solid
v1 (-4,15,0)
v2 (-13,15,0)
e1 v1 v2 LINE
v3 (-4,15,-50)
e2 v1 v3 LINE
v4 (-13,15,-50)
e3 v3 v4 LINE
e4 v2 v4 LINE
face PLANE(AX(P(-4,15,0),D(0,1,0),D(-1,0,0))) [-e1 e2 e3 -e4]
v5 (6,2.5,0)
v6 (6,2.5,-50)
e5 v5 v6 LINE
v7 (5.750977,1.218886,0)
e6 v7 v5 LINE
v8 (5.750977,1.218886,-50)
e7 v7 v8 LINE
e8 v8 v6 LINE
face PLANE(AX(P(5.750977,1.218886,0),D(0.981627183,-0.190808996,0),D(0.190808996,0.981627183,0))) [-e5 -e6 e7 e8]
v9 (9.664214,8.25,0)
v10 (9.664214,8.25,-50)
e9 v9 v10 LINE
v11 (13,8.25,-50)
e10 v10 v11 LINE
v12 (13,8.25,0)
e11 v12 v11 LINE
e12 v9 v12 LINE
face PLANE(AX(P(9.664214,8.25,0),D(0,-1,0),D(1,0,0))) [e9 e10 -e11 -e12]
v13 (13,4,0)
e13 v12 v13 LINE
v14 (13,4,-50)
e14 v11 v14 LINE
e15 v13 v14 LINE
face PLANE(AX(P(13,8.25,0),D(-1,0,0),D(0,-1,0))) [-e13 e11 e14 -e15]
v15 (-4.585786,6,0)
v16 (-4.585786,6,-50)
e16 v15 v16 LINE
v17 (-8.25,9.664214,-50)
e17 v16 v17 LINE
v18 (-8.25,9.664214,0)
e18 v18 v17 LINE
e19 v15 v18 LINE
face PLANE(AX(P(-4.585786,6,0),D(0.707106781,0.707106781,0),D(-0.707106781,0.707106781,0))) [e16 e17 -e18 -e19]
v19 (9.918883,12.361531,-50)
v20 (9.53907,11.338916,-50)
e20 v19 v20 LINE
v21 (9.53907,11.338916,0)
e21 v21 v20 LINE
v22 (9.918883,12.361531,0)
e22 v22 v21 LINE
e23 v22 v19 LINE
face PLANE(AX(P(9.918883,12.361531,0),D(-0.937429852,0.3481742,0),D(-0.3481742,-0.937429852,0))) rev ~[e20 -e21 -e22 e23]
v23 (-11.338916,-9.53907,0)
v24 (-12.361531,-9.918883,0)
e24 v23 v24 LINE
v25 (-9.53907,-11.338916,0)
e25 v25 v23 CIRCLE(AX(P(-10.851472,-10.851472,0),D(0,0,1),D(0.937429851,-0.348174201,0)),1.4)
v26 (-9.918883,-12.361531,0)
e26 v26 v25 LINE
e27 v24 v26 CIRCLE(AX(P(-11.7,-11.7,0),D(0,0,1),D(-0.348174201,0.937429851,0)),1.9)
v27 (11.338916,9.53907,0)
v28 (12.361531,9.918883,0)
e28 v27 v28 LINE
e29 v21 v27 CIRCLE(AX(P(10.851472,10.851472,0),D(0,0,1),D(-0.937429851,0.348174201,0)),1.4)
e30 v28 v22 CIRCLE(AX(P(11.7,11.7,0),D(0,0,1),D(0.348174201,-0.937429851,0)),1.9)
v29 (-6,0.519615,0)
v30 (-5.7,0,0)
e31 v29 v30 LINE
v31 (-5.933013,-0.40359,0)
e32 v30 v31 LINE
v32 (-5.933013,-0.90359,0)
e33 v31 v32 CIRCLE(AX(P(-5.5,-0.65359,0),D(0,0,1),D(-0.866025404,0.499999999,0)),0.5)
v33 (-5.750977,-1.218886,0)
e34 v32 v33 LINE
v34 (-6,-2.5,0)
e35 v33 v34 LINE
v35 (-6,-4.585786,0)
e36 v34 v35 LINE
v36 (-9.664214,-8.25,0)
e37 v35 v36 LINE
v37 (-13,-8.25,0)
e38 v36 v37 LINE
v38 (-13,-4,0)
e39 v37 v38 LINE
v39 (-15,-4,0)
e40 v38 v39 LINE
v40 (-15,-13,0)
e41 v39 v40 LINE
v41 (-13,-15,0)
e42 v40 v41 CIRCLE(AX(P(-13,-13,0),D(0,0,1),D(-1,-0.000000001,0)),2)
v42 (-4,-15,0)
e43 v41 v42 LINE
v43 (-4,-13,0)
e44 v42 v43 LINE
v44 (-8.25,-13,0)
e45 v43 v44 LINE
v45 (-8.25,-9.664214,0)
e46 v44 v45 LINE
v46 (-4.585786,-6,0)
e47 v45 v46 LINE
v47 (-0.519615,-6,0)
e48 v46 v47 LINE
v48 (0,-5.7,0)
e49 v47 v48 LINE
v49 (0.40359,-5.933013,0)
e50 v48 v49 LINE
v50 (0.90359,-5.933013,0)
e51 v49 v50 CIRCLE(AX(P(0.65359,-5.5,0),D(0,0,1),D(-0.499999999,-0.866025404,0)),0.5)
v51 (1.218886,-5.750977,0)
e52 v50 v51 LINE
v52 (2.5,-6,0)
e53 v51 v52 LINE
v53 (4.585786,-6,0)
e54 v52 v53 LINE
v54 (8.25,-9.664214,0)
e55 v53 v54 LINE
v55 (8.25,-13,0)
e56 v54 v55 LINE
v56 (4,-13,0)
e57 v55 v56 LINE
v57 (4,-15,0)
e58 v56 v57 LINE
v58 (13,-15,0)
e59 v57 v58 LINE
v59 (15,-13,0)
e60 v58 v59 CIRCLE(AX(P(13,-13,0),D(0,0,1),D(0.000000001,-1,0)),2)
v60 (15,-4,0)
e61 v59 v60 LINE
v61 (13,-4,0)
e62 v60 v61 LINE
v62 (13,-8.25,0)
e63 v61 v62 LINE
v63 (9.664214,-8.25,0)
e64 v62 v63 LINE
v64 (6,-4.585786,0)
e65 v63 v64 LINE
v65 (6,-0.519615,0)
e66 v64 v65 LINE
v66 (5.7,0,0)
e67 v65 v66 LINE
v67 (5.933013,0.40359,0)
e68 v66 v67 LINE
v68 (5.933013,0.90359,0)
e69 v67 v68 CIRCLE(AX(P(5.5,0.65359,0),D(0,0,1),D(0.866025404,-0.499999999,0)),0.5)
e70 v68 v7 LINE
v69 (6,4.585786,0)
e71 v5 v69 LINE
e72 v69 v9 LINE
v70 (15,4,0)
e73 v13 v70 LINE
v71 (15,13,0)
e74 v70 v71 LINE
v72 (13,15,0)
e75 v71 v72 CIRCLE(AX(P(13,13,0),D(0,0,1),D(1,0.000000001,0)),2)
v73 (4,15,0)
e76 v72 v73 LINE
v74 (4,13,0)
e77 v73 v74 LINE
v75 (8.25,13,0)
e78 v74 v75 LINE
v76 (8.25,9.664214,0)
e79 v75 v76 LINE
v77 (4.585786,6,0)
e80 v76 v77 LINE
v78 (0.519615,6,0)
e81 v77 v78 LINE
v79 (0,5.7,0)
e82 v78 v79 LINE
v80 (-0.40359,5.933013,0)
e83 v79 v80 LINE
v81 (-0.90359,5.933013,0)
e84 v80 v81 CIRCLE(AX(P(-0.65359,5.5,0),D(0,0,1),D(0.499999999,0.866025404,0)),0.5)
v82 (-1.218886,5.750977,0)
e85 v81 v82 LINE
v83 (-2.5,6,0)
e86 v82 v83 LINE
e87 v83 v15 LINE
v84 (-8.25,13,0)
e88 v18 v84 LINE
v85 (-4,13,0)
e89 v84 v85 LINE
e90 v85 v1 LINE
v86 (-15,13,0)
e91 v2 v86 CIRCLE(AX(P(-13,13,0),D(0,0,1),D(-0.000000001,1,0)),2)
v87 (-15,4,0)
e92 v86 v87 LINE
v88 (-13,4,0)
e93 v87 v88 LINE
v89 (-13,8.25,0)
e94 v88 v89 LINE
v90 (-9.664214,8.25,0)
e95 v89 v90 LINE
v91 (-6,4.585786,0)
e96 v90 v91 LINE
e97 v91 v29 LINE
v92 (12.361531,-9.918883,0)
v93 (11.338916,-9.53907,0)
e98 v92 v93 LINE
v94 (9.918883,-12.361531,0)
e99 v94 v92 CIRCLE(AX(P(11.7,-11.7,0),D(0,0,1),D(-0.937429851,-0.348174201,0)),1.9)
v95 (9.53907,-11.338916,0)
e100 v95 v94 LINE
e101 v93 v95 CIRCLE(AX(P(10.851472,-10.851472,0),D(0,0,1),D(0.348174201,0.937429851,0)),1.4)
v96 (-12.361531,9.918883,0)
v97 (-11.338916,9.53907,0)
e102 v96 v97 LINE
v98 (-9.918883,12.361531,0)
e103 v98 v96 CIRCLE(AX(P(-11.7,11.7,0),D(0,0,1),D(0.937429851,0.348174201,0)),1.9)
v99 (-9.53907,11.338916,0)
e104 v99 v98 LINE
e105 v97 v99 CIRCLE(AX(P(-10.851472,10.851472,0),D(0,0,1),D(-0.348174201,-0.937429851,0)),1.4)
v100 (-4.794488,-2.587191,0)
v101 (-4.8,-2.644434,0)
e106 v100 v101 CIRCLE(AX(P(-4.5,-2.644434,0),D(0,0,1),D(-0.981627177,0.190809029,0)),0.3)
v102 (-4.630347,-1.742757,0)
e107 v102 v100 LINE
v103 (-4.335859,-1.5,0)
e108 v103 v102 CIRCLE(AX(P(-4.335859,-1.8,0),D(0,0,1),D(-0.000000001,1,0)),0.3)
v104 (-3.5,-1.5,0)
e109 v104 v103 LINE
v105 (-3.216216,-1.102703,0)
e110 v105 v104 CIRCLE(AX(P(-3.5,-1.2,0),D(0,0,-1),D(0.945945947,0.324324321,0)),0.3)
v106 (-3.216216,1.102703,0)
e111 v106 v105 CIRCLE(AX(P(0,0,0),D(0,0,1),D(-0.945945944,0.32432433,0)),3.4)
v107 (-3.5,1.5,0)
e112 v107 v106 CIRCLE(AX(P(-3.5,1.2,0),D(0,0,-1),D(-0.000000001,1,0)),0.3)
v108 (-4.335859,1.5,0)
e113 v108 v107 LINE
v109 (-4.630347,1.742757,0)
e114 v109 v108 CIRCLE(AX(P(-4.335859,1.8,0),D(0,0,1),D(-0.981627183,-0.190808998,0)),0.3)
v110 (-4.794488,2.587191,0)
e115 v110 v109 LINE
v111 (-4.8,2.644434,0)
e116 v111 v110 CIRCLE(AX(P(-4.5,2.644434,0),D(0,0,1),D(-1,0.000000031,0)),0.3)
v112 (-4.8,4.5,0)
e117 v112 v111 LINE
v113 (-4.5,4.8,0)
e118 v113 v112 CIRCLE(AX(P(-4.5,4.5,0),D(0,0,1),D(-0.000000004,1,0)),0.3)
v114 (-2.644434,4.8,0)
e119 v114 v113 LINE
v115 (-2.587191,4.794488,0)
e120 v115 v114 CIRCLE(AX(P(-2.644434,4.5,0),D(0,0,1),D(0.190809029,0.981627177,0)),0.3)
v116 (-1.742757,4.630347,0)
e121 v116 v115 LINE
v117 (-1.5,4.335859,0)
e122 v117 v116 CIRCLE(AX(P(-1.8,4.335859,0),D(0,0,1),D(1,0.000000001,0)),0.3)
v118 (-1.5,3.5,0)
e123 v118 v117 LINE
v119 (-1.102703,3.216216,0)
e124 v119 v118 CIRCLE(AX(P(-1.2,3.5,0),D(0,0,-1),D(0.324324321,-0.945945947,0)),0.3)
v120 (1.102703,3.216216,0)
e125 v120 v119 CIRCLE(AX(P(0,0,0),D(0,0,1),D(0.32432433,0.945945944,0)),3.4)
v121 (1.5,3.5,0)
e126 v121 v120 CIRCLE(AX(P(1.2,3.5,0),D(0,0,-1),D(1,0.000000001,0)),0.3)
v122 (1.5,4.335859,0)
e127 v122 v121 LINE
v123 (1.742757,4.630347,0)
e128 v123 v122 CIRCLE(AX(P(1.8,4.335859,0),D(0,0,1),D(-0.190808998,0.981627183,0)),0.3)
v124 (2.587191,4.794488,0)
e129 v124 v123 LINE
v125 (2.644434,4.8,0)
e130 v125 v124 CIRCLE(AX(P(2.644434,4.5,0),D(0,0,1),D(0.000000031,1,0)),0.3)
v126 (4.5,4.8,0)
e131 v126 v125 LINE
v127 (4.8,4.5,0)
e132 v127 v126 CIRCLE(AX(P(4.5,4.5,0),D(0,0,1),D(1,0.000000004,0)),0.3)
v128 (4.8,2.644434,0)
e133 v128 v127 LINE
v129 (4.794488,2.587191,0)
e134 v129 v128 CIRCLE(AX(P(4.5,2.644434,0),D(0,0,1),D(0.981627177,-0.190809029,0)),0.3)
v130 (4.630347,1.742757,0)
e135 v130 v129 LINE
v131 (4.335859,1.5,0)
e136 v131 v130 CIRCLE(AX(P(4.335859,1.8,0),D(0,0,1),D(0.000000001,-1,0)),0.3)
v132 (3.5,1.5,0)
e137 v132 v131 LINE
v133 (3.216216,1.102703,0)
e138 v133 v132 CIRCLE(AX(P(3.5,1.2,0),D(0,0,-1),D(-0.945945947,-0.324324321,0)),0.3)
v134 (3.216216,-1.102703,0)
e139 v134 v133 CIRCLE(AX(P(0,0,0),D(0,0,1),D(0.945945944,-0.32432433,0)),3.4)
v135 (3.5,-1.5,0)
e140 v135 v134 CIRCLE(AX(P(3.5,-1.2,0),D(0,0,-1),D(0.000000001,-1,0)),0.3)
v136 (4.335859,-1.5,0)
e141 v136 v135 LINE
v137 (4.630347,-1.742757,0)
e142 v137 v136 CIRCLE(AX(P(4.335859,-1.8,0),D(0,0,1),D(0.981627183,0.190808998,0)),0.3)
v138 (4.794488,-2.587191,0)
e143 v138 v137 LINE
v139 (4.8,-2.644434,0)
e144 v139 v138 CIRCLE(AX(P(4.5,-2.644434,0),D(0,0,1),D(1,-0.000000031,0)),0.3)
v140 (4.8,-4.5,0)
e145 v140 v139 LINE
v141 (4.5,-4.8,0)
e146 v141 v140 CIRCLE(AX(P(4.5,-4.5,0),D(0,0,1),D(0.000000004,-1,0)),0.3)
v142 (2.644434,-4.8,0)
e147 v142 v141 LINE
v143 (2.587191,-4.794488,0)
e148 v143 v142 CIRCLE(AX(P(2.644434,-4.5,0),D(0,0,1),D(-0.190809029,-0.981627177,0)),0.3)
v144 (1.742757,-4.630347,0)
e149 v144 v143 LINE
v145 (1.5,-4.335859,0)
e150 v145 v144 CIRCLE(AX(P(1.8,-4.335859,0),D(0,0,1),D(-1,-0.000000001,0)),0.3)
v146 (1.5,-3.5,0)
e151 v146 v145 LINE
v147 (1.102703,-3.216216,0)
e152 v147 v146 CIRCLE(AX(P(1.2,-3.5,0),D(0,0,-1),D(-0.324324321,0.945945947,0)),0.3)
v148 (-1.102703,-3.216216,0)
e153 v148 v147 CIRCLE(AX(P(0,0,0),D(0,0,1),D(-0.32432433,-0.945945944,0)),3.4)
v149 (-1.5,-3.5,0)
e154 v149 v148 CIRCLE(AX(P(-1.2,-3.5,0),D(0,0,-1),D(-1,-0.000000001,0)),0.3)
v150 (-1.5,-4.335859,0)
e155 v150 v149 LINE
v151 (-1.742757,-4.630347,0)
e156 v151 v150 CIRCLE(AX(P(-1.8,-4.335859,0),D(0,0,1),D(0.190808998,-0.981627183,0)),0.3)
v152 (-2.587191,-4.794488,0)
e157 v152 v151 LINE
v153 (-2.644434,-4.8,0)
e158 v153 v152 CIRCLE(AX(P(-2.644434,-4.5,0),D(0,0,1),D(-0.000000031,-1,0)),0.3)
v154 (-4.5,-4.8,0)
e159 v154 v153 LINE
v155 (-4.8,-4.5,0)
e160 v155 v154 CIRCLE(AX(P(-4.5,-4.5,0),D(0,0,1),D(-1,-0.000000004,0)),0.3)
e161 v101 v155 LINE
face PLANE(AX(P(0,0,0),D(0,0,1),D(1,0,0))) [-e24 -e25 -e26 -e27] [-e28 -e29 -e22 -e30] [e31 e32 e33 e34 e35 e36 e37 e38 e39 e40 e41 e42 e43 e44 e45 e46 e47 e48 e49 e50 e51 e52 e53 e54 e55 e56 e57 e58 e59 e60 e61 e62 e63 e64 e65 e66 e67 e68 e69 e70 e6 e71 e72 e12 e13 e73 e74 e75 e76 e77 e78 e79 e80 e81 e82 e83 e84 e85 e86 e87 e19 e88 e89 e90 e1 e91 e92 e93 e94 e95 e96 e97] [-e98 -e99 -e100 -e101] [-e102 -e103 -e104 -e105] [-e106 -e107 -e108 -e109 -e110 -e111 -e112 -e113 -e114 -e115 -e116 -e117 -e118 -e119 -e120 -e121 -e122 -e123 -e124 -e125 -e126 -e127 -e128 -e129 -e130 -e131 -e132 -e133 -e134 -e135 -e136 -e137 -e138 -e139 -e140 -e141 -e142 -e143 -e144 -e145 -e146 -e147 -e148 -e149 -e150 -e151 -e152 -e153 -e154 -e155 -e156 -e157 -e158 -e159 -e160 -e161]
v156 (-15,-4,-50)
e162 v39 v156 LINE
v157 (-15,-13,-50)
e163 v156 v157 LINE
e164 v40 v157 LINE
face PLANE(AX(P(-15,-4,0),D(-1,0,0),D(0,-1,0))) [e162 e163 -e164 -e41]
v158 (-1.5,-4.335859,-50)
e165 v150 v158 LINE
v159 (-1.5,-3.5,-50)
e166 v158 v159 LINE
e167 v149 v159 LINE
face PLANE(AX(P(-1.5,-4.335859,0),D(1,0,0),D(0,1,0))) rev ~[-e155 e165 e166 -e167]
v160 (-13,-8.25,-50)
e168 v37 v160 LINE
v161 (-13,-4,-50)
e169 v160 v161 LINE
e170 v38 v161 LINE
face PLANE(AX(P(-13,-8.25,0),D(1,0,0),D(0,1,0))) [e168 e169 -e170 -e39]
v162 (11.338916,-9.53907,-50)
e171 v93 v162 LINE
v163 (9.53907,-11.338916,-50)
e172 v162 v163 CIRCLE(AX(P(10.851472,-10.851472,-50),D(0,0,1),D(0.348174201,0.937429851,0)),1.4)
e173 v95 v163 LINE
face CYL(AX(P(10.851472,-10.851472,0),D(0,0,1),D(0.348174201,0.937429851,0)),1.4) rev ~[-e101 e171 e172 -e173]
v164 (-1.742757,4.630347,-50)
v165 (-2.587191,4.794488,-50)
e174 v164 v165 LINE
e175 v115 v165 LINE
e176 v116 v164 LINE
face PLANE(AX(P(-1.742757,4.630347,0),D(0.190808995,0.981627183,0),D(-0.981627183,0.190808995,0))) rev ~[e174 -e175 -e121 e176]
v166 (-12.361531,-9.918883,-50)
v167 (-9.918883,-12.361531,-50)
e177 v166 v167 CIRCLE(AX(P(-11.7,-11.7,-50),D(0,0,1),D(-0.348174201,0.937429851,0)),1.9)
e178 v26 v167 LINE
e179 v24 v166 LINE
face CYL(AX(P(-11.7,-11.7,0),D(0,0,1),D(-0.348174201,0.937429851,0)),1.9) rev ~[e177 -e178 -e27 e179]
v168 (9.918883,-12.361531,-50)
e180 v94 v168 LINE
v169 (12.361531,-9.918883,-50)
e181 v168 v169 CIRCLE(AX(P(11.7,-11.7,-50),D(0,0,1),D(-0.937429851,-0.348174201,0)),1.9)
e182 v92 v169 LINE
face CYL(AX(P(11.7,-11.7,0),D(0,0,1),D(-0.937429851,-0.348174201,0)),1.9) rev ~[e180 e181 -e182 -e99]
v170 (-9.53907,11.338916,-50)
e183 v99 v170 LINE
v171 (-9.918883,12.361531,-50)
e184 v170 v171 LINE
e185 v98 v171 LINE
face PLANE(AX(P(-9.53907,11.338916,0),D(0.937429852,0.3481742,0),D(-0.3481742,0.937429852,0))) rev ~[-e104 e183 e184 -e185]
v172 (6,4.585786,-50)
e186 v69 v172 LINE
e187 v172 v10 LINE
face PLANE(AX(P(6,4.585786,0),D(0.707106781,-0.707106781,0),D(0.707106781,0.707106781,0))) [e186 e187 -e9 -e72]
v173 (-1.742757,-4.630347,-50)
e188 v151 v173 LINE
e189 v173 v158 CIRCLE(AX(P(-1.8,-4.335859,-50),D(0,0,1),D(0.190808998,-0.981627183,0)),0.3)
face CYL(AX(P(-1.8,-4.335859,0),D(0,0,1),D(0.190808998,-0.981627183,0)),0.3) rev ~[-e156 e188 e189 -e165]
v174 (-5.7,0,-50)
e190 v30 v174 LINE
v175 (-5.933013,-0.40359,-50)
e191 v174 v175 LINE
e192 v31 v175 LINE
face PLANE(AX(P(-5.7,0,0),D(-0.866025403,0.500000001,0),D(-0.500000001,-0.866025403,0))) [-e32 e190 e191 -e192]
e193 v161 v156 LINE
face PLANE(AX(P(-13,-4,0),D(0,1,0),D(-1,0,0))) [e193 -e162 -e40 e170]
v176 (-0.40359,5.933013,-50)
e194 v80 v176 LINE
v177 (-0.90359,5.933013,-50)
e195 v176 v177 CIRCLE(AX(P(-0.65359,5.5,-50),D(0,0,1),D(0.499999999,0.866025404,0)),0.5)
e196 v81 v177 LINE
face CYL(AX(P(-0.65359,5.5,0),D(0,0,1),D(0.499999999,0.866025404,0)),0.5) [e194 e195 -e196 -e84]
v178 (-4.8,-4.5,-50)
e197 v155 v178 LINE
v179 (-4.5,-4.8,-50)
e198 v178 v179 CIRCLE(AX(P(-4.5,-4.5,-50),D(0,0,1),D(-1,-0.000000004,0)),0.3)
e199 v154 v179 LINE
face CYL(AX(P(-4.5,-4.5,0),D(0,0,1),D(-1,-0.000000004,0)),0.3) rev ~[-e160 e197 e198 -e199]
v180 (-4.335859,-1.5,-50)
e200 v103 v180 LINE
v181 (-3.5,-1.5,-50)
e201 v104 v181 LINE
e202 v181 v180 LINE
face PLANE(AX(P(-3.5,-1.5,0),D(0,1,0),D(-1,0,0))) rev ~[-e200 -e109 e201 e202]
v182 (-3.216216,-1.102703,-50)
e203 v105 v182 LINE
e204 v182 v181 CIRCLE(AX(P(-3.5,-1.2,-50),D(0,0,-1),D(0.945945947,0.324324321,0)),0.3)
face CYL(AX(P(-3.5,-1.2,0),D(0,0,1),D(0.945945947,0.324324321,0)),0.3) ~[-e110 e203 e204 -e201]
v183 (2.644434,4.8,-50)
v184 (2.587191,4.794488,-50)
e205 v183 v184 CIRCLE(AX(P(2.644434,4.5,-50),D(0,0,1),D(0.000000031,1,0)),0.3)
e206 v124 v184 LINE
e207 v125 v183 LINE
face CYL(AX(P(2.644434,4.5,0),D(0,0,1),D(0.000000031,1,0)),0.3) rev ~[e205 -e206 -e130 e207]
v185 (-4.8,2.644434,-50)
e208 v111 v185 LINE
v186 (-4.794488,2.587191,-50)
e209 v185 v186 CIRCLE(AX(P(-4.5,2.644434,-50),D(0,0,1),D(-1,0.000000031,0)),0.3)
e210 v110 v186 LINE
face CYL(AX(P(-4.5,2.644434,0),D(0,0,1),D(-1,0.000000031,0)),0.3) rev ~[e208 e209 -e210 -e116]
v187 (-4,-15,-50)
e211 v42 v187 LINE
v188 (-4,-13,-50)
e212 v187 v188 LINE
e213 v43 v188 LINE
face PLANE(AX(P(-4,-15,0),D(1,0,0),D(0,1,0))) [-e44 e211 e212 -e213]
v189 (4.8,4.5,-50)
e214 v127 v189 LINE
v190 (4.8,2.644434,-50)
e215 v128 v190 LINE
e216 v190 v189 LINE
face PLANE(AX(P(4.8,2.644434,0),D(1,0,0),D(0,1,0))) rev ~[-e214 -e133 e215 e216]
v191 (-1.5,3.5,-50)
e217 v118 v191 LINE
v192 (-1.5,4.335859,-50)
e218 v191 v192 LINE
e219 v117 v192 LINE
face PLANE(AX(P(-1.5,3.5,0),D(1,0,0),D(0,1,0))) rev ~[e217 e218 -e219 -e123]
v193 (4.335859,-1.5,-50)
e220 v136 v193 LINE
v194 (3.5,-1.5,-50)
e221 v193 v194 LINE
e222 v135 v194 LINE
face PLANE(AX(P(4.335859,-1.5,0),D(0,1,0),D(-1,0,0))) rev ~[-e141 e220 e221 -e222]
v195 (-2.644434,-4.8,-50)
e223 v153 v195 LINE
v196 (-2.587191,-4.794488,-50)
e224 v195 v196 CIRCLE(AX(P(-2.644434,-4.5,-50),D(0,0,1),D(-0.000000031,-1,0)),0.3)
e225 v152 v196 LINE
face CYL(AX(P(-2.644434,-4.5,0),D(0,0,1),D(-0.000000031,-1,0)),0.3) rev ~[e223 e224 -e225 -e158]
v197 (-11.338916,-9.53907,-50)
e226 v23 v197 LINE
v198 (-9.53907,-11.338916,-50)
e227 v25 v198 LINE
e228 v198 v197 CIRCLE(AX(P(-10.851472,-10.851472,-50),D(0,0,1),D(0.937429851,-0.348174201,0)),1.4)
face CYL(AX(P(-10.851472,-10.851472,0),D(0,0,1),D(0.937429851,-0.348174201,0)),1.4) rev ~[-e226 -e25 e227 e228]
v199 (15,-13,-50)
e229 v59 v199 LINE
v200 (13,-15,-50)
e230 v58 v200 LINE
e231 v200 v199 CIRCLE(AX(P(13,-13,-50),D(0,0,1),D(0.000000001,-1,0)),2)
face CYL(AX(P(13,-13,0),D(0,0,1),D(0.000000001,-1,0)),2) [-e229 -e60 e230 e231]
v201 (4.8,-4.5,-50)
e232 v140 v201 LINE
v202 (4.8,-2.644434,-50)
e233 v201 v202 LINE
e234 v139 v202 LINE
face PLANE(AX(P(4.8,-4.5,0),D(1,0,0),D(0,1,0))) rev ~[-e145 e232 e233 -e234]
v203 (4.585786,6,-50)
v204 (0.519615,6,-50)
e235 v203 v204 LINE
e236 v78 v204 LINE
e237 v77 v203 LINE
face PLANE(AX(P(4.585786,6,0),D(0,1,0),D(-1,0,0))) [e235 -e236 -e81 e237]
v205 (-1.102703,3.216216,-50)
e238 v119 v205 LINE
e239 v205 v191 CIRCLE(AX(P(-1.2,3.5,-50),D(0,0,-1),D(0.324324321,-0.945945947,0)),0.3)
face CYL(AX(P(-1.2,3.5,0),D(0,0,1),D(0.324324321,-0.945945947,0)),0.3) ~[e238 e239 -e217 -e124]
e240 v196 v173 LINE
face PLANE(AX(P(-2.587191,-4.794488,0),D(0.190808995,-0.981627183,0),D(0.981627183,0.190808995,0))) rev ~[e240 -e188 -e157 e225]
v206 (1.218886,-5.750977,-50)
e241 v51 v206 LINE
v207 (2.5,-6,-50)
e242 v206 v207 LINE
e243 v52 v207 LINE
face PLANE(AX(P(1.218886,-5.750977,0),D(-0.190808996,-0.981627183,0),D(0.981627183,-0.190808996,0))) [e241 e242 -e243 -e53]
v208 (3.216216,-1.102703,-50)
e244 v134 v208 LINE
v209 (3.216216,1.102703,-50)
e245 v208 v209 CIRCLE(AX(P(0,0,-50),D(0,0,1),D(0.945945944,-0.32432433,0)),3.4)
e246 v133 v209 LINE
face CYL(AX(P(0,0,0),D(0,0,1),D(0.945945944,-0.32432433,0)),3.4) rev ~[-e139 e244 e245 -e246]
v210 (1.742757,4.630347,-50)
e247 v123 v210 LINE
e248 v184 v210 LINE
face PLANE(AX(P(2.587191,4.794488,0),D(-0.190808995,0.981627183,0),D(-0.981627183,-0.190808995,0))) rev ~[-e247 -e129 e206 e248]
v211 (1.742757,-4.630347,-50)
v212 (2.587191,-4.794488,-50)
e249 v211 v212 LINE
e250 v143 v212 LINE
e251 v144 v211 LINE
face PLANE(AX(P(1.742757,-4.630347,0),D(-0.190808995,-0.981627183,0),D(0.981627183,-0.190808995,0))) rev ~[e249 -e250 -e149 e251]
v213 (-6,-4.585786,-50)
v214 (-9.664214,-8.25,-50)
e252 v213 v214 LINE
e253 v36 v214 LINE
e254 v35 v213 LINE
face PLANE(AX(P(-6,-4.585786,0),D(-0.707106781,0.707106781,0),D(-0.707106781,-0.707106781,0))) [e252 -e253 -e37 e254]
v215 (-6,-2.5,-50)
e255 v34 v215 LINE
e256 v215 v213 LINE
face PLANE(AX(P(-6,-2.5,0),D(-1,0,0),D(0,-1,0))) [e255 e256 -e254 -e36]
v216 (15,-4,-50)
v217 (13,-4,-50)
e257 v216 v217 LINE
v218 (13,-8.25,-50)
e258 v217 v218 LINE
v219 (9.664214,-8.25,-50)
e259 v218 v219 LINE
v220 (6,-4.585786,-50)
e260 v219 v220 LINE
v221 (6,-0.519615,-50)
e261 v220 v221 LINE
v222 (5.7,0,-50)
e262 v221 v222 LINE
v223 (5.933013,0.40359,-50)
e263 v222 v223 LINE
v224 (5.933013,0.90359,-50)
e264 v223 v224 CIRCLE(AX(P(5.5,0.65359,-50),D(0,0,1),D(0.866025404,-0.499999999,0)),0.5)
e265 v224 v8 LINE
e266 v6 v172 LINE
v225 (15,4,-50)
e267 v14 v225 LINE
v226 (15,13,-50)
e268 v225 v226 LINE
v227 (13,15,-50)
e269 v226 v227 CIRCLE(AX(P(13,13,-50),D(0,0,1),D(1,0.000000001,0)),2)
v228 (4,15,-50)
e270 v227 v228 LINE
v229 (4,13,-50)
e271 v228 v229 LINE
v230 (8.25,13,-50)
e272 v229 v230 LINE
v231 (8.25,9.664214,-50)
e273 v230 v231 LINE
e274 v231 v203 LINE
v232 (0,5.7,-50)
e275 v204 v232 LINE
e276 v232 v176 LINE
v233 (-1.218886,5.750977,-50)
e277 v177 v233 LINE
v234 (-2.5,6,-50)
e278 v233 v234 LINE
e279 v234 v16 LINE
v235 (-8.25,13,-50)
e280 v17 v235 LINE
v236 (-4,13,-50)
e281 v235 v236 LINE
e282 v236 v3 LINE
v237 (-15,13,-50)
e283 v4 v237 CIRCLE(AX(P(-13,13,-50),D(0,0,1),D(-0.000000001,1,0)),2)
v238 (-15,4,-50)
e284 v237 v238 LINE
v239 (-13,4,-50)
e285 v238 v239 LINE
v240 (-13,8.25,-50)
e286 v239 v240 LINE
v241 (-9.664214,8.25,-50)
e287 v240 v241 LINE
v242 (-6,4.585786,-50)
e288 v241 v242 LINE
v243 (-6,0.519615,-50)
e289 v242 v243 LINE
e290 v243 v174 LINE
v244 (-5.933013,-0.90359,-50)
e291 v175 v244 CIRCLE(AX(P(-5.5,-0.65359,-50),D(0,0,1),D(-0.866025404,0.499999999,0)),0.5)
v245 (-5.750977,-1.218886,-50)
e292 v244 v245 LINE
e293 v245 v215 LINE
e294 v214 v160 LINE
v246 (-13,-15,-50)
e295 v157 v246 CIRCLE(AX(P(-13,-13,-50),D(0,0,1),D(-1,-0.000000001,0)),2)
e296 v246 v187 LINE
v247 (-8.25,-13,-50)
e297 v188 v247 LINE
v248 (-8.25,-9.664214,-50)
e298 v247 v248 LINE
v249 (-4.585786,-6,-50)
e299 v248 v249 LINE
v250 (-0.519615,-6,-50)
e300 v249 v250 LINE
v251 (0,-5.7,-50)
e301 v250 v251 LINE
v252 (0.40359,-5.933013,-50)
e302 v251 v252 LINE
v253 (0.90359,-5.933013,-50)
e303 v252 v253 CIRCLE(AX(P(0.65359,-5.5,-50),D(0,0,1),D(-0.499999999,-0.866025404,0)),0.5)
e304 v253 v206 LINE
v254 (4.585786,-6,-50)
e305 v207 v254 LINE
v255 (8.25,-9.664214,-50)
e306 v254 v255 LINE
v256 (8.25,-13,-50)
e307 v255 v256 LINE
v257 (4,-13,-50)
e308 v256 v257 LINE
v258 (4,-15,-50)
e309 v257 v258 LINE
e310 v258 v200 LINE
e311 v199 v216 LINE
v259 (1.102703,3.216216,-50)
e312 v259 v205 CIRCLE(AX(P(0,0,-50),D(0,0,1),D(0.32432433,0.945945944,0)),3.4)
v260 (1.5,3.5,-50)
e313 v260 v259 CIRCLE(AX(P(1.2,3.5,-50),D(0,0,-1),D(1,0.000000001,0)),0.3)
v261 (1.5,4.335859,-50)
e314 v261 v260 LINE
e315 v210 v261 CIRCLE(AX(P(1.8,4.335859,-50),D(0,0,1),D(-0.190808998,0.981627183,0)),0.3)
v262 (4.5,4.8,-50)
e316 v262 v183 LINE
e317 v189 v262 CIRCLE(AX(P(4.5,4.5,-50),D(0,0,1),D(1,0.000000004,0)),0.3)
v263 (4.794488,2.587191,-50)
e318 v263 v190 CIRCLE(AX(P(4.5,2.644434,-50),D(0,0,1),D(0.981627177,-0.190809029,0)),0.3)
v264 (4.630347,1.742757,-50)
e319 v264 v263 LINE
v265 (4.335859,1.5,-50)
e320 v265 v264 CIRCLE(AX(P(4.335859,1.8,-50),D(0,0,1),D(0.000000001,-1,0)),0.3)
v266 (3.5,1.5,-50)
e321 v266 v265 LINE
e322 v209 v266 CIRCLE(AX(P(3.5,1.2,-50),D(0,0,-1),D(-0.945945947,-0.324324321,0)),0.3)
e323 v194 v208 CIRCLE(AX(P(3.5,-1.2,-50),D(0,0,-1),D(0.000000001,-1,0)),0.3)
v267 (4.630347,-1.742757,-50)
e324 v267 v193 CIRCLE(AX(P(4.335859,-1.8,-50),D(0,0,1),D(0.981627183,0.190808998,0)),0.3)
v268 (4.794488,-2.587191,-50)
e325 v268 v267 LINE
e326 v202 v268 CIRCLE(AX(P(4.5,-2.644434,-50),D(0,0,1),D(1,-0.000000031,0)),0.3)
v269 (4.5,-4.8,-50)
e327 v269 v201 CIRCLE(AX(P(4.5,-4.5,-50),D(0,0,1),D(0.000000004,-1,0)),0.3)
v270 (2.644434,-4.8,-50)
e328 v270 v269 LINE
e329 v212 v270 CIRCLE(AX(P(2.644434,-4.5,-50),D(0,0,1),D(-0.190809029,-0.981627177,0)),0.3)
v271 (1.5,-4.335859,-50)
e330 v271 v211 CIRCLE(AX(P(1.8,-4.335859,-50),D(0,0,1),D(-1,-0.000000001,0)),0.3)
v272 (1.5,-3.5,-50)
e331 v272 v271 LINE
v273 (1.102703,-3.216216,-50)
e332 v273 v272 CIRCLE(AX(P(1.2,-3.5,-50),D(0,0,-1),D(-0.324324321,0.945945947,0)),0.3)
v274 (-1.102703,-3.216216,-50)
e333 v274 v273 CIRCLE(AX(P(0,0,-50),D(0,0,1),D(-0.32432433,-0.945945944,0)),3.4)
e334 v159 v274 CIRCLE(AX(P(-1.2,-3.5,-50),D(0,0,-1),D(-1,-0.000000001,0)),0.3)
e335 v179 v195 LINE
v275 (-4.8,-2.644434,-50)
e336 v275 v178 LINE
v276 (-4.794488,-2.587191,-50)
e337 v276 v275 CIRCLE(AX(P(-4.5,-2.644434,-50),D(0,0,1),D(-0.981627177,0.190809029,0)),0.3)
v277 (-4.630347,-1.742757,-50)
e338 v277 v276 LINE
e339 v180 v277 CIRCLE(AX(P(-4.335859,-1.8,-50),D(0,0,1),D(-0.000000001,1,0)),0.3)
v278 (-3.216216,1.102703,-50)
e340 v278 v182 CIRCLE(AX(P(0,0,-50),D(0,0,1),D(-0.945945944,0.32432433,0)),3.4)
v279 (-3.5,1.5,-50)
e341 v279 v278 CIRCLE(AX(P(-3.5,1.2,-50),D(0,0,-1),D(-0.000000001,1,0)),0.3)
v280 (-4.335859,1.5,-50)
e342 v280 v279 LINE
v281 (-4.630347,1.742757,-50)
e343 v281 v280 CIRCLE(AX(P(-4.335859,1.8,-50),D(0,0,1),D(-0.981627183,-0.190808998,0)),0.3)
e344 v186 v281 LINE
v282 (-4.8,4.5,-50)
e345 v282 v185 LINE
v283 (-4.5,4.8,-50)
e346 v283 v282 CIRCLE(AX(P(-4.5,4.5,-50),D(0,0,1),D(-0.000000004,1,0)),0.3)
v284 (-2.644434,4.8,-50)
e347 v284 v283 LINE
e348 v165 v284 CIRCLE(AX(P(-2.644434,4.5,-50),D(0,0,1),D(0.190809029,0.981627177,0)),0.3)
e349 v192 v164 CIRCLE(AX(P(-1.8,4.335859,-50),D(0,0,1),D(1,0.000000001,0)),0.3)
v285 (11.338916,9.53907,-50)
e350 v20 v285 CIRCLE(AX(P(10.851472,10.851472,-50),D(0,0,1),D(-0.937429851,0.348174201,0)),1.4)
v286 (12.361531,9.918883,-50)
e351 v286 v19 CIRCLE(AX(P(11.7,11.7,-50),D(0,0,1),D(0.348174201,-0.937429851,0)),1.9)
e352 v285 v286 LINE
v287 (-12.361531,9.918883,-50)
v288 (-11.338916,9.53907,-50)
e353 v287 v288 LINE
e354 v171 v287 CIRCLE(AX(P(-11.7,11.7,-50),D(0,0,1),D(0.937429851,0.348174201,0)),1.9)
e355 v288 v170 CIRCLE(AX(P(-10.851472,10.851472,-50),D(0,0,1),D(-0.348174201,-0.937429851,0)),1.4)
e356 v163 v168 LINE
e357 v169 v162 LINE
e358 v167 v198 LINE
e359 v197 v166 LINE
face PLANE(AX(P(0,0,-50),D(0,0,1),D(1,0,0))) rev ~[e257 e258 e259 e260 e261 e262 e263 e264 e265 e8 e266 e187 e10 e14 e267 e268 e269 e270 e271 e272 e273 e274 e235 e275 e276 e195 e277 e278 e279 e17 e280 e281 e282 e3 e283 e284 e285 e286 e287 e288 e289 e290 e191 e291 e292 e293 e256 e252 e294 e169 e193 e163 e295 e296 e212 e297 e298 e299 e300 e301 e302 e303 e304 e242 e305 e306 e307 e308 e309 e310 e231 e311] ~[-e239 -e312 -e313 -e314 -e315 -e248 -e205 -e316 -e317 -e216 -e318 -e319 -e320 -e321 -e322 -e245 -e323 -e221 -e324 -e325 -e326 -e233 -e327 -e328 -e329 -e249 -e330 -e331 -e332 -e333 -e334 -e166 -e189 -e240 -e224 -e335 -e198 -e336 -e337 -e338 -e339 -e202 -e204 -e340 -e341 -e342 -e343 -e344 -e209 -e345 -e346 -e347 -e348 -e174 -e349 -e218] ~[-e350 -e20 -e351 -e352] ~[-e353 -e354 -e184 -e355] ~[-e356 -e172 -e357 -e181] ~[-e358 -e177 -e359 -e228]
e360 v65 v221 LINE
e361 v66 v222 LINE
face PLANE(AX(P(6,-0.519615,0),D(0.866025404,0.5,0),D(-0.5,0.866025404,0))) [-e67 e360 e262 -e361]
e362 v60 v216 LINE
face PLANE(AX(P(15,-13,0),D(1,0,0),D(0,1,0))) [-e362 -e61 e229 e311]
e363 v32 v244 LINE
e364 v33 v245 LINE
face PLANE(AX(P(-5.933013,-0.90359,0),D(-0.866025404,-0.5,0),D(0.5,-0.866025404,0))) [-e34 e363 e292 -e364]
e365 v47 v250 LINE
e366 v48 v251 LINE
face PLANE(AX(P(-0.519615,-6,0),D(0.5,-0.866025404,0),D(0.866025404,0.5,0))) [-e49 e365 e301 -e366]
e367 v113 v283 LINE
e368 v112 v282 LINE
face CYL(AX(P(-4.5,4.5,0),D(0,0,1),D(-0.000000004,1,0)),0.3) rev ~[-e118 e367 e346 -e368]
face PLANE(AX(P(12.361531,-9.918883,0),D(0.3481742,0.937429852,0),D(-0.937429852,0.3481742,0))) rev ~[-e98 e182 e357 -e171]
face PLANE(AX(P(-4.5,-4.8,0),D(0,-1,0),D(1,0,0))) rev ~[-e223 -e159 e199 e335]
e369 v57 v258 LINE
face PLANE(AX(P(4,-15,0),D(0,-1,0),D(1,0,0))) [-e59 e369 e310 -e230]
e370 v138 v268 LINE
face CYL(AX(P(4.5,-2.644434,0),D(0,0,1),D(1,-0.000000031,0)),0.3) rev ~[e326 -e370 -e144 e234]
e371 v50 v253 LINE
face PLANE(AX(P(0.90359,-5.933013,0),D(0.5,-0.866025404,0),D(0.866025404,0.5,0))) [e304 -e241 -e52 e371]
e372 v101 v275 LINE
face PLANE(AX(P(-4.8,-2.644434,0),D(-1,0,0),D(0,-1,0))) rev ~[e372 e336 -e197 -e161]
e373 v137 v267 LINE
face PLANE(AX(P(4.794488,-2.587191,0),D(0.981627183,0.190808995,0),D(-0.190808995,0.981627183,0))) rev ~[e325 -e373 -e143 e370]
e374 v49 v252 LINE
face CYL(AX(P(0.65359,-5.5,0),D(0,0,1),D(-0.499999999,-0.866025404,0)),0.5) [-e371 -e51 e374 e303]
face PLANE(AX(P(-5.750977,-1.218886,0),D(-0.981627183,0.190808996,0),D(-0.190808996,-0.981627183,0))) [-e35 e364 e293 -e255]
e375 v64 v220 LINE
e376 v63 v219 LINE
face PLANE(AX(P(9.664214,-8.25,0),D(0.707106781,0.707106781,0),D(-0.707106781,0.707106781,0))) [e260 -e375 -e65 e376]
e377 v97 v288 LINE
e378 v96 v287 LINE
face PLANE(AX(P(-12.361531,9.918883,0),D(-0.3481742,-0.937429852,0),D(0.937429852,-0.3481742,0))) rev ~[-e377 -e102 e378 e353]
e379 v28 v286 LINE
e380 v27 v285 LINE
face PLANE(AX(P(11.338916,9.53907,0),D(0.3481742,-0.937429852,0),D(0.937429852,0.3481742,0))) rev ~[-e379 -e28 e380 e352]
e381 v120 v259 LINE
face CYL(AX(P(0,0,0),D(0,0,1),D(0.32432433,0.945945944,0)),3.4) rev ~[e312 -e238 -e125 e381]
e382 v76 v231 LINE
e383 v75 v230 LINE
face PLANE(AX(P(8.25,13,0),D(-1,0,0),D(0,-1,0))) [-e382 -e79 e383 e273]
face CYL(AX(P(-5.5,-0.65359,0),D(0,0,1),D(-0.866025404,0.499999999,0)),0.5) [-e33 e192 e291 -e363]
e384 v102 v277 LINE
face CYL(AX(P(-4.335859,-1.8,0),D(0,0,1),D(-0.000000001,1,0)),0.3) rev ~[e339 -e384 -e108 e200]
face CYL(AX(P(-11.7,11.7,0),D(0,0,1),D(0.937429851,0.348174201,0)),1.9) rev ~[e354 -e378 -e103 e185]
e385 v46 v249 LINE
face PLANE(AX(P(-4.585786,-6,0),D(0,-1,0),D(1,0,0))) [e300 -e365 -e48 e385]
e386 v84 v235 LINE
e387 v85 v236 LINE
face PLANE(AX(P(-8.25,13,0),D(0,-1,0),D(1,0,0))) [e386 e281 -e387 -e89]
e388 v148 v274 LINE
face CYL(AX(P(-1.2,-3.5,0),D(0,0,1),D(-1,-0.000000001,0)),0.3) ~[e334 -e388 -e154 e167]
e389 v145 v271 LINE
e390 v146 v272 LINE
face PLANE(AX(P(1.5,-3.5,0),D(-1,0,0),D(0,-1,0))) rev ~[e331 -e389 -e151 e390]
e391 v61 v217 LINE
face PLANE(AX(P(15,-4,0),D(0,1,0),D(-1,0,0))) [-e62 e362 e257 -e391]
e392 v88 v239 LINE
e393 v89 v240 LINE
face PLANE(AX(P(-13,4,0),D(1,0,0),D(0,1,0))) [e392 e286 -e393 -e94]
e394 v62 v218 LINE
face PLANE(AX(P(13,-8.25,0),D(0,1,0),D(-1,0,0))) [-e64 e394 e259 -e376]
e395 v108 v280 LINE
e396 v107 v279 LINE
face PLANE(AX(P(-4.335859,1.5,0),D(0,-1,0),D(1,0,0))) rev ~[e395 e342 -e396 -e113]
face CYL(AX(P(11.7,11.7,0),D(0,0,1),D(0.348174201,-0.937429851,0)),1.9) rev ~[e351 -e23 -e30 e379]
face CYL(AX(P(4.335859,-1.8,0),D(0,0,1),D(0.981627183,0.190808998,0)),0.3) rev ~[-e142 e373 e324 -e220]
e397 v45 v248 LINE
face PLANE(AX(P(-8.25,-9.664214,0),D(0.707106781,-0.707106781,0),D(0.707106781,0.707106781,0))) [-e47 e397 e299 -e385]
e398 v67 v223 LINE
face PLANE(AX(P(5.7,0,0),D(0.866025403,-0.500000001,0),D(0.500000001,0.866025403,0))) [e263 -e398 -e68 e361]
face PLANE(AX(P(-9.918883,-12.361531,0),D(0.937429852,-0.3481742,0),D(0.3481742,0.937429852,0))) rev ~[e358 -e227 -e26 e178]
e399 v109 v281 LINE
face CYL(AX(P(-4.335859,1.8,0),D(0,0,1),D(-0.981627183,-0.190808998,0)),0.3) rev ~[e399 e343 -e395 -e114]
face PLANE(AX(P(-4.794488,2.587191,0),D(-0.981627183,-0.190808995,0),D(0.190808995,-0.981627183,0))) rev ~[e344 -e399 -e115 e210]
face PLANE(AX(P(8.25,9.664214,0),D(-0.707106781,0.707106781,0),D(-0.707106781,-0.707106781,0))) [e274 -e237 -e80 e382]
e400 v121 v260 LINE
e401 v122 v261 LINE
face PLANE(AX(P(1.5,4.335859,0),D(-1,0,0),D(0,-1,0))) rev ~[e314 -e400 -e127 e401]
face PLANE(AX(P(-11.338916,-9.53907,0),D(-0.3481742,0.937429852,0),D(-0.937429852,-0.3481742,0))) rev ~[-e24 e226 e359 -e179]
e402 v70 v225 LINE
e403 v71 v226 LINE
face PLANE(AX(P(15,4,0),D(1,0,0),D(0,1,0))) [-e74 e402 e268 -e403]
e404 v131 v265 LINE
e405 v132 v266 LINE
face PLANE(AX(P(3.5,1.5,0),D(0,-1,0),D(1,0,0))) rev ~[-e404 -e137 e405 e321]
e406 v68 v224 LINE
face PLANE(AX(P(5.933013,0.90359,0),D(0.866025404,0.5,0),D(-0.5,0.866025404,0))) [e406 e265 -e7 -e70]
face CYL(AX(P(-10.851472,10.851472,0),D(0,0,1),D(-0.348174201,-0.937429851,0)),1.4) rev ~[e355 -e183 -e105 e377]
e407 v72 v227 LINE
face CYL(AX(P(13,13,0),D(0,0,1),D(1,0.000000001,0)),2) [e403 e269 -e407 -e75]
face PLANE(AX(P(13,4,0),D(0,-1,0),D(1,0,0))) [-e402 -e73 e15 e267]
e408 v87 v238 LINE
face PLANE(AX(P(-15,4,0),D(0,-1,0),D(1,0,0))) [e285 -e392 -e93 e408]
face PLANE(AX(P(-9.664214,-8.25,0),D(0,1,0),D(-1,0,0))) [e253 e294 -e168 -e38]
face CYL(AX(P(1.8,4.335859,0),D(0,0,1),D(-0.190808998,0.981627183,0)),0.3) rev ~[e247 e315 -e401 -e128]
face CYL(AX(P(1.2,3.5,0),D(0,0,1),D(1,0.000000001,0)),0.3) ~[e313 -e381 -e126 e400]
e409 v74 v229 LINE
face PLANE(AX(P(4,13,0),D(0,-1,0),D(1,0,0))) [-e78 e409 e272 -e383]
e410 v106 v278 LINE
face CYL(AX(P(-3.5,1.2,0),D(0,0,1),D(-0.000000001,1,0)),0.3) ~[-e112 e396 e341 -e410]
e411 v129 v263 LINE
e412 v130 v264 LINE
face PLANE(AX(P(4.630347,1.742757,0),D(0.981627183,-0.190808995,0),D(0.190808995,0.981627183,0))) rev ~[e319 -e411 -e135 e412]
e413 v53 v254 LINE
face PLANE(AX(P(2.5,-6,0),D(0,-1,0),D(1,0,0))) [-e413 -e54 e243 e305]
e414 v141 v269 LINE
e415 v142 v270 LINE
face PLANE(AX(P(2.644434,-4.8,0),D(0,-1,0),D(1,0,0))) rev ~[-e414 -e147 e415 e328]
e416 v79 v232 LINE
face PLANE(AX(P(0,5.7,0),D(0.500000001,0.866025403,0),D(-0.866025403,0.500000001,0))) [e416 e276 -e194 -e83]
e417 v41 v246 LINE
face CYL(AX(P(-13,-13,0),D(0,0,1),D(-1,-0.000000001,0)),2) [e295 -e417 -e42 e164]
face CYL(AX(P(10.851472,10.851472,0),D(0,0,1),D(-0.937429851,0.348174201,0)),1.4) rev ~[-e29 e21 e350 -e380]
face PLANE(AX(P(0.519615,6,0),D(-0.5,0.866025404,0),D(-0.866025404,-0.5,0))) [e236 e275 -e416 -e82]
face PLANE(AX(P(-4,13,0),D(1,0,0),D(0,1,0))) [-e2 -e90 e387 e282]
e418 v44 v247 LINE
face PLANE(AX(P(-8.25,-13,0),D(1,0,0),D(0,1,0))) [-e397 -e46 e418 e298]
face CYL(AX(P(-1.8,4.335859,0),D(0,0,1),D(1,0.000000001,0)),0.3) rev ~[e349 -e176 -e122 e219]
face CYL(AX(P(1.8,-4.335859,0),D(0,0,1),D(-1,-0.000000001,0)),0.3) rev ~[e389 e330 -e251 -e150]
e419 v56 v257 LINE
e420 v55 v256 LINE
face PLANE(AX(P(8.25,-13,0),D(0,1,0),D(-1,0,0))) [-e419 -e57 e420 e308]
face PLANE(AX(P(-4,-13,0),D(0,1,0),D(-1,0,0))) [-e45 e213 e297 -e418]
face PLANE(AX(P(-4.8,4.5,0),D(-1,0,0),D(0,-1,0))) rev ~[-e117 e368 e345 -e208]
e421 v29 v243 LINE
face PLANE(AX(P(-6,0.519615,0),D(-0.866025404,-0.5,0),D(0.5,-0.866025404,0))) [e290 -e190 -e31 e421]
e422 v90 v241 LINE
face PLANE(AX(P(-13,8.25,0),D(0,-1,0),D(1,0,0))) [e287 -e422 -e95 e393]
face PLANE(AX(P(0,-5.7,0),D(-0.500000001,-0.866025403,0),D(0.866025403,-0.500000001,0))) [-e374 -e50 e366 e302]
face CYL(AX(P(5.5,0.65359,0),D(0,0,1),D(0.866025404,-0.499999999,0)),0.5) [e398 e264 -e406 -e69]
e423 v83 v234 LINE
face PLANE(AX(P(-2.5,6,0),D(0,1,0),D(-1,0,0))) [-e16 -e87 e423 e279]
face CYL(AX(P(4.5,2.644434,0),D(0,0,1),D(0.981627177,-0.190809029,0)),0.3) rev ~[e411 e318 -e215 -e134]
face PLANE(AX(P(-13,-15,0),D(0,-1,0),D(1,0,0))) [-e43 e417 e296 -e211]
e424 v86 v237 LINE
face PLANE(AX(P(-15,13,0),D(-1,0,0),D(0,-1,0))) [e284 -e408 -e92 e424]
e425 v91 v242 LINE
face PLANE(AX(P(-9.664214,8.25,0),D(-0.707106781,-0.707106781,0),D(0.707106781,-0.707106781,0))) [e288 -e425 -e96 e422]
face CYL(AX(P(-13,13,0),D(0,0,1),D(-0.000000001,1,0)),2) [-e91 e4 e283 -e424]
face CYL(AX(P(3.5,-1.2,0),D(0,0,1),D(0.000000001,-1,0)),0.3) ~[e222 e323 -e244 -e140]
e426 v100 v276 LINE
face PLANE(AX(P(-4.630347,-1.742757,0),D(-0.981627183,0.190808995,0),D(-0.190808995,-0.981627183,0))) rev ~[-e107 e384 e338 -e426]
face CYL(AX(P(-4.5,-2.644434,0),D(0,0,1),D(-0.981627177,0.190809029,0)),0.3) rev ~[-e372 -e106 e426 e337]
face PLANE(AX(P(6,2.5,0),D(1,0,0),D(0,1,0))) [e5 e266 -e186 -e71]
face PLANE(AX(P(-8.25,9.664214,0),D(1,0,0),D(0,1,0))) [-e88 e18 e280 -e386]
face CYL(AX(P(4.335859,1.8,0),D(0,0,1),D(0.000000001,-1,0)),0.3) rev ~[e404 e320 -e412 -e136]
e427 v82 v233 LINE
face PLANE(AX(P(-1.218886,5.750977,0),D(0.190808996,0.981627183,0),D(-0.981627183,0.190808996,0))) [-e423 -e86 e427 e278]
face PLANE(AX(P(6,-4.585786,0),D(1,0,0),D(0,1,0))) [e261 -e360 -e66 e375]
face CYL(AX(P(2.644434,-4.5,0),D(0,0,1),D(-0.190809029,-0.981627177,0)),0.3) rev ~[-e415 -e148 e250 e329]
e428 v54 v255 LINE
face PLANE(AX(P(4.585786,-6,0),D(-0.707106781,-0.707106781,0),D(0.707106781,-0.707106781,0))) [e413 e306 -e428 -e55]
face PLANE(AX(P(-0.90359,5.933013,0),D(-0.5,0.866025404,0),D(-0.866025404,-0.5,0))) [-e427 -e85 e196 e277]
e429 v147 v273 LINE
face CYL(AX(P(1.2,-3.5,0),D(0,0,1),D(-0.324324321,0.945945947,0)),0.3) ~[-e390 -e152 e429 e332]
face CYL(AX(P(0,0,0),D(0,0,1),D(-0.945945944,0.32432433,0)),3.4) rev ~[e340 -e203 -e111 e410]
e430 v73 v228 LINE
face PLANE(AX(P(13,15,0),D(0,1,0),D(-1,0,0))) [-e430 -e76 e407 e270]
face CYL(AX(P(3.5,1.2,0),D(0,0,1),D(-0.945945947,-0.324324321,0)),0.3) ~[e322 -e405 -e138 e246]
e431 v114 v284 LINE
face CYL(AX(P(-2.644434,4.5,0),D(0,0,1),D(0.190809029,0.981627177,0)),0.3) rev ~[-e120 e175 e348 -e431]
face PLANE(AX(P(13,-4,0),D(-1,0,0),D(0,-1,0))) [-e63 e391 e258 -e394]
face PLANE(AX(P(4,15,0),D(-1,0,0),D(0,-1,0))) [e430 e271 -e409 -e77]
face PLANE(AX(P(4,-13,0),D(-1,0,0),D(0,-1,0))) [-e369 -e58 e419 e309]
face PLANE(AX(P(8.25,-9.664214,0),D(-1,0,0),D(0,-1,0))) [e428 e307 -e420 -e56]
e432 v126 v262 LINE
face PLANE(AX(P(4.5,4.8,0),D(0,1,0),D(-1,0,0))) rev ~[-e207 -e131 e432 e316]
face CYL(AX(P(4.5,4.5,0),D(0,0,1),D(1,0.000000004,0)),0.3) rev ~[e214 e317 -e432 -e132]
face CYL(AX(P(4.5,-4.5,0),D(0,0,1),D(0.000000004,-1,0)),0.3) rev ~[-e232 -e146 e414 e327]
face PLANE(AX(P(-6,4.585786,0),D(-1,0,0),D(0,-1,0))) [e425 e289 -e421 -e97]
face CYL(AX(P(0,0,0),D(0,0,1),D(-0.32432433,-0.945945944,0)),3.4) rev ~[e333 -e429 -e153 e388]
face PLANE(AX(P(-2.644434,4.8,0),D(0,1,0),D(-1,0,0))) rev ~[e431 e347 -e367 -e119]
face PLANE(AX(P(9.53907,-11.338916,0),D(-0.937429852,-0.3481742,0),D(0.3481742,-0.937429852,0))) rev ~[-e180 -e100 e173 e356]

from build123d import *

# Parameters (mm, degrees)
BOSS_EXTRUDE1_DEPTH = 50
CUT_EXTRUDE1_DEPTH  = 50


with BuildPart() as part:
    # Sketch1 → Boss-Extrude1 (new body)
    with BuildSketch(Plane.XY):
        with BuildLine():
            Line((-15, 4), (-13, 4))
            Line((-13, 4), (-13, 8.25))
            Line((-13, 8.25), (-9.664213562, 8.25))
            Line((-9.664213562, 8.25), (-6, 4.585786438))
            Line((-6, 4.585786438), (-6, 0.519615242))
            Line((-6, 0.519615242), (-5.7, 0))
            Line((-5.7, 0), (-5.933012702, -0.403589838))
            ThreePointArc((-5.933012702, -0.403589838), (-6, -0.653589838), (-5.933012702, -0.903589838))
            Line((-5.933012702, -0.903589838), (-5.750976592, -1.218885629))
            Line((-5.750976592, -1.218885629), (-6, -2.5))
            Line((-6, -2.5), (-6, -4.585786438))
            Line((-6, -4.585786438), (-9.664213562, -8.25))
            Line((-9.664213562, -8.25), (-13, -8.25))
            Line((-13, -8.25), (-13, -4))
            Line((-13, -4), (-15, -4))
            Line((-15, -4), (-15, -13))
            ThreePointArc((-15, -13), (-14.414213562, -14.414213562), (-13, -15))
            Line((-13, -15), (-4, -15))
            Line((-4, -15), (-4, -13))
            Line((-4, -13), (-8.25, -13))
            Line((-8.25, -13), (-8.25, -9.664213562))
            Line((-8.25, -9.664213562), (-4.585786438, -6))
            Line((-4.585786438, -6), (-0.519615242, -6))
            Line((-0.519615242, -6), (0, -5.7))
            Line((0, -5.7), (0.403589838, -5.933012702))
            ThreePointArc((0.403589838, -5.933012702), (0.653589838, -6), (0.903589838, -5.933012702))
            Line((0.903589838, -5.933012702), (1.218885629, -5.750976592))
            Line((1.218885629, -5.750976592), (2.5, -6))
            Line((2.5, -6), (4.585786438, -6))
            Line((4.585786438, -6), (8.25, -9.664213562))
            Line((8.25, -9.664213562), (8.25, -13))
            Line((8.25, -13), (4, -13))
            Line((4, -13), (4, -15))
            Line((4, -15), (13, -15))
            ThreePointArc((13, -15), (14.414213562, -14.414213562), (15, -13))
            Line((15, -13), (15, -4))
            Line((15, -4), (13, -4))
            Line((13, -4), (13, -8.25))
            Line((13, -8.25), (9.664213562, -8.25))
            Line((9.664213562, -8.25), (6, -4.585786438))
            Line((6, -4.585786438), (6, -0.519615242))
            Line((6, -0.519615242), (5.7, 0))
            Line((5.7, 0), (5.933012702, 0.403589838))
            ThreePointArc((5.933012702, 0.403589838), (6, 0.653589838), (5.933012702, 0.903589838))
            Line((5.933012702, 0.903589838), (5.750976592, 1.218885629))
            Line((5.750976592, 1.218885629), (6, 2.5))
            Line((6, 2.5), (6, 4.585786438))
            Line((6, 4.585786438), (9.664213562, 8.25))
            Line((9.664213562, 8.25), (13, 8.25))
            Line((13, 8.25), (13, 4))
            Line((13, 4), (15, 4))
            Line((15, 4), (15, 13))
            ThreePointArc((15, 13), (14.414213562, 14.414213562), (13, 15))
            Line((13, 15), (4, 15))
            Line((4, 15), (4, 13))
            Line((4, 13), (8.25, 13))
            Line((8.25, 13), (8.25, 9.664213562))
            Line((8.25, 9.664213562), (4.585786438, 6))
            Line((4.585786438, 6), (0.519615242, 6))
            Line((0.519615242, 6), (0, 5.7))
            Line((0, 5.7), (-0.403589838, 5.933012702))
            ThreePointArc((-0.403589838, 5.933012702), (-0.653589838, 6), (-0.903589838, 5.933012702))
            Line((-0.903589838, 5.933012702), (-1.218885629, 5.750976592))
            Line((-1.218885629, 5.750976592), (-2.5, 6))
            Line((-2.5, 6), (-4.585786438, 6))
            Line((-4.585786438, 6), (-8.25, 9.664213562))
            Line((-8.25, 9.664213562), (-8.25, 13))
            Line((-8.25, 13), (-4, 13))
            Line((-4, 13), (-4, 15))
            Line((-4, 15), (-13, 15))
            ThreePointArc((-13, 15), (-14.414213562, 14.414213562), (-15, 13))
            Line((-15, 13), (-15, 4))
        make_face()
        with BuildLine():
            Line((11.338915743, 9.539070071), (12.361530981, 9.918883282))
            ThreePointArc((12.361530981, 9.918883282), (13.043502884, 13.043502884), (9.918883282, 12.361530981))
            Line((9.918883282, 12.361530981), (9.539070071, 11.338915743))
            ThreePointArc((9.539070071, 11.338915743), (9.861522369, 9.861522369), (11.338915743, 9.539070071))
        make_face(mode=Mode.SUBTRACT)
        with BuildLine():
            Line((9.539070071, -11.338915743), (9.918883282, -12.361530981))
            ThreePointArc((9.918883282, -12.361530981), (13.043502884, -13.043502884), (12.361530981, -9.918883282))
            Line((12.361530981, -9.918883282), (11.338915743, -9.539070071))
            ThreePointArc((11.338915743, -9.539070071), (9.861522369, -9.861522369), (9.539070071, -11.338915743))
        make_face(mode=Mode.SUBTRACT)
        with BuildLine():
            Line((-12.361530981, 9.918883282), (-11.338915743, 9.539070071))
            ThreePointArc((-11.338915743, 9.539070071), (-9.861522369, 9.861522369), (-9.539070071, 11.338915743))
            Line((-9.539070071, 11.338915743), (-9.918883282, 12.361530981))
            ThreePointArc((-9.918883282, 12.361530981), (-13.043502884, 13.043502884), (-12.361530981, 9.918883282))
        make_face(mode=Mode.SUBTRACT)
        with BuildLine():
            Line((-9.918883282, -12.361530981), (-9.539070071, -11.338915743))
            ThreePointArc((-9.539070071, -11.338915743), (-9.861522369, -9.861522369), (-11.338915743, -9.539070071))
            Line((-11.338915743, -9.539070071), (-12.361530981, -9.918883282))
            ThreePointArc((-12.361530981, -9.918883282), (-13.043502884, -13.043502884), (-9.918883282, -12.361530981))
        make_face(mode=Mode.SUBTRACT)
    extrude(amount=-BOSS_EXTRUDE1_DEPTH)

    # Sketch2 → Cut-Extrude1 (cut)
    with BuildSketch(Plane.XY):
        with BuildLine():
            Line((-4.5, -4.8), (-2.644433572, -4.8))
            ThreePointArc((-2.644433572, -4.8), (-2.615679847, -4.79861886), (-2.587190874, -4.794488155))
            Line((-2.587190874, -4.794488155), (-1.742757301, -4.630346896))
            ThreePointArc((-1.742757301, -4.630346896), (-1.568512625, -4.526682207), (-1.5, -4.335858741))
            Line((-1.5, -4.335858741), (-1.5, -3.5))
            ThreePointArc((-1.5, -3.5), (-1.374371466, -3.255879964), (-1.10270272, -3.21621621))
            ThreePointArc((-1.10270272, -3.21621621), (-9e-09, -3.4), (1.102702703, -3.216216216))
            ThreePointArc((1.102702703, -3.216216216), (1.374371458, -3.255879959), (1.5, -3.5))
            Line((1.5, -3.5), (1.5, -4.335858741))
            ThreePointArc((1.5, -4.335858741), (1.568512625, -4.526682207), (1.742757301, -4.630346896))
            Line((1.742757301, -4.630346896), (2.587190874, -4.794488155))
            ThreePointArc((2.587190874, -4.794488155), (2.615679847, -4.79861886), (2.644433572, -4.8))
            Line((2.644433572, -4.8), (4.5, -4.8))
            ThreePointArc((4.5, -4.8), (4.712132034, -4.712132034), (4.8, -4.5))
            Line((4.8, -4.5), (4.8, -2.644433572))
            ThreePointArc((4.8, -2.644433572), (4.79861886, -2.615679847), (4.794488155, -2.587190874))
            Line((4.794488155, -2.587190874), (4.630346896, -1.742757301))
            ThreePointArc((4.630346896, -1.742757301), (4.526682207, -1.568512625), (4.335858741, -1.5))
            Line((4.335858741, -1.5), (3.5, -1.5))
            ThreePointArc((3.5, -1.5), (3.255879964, -1.374371466), (3.21621621, -1.10270272))
            ThreePointArc((3.21621621, -1.10270272), (3.4, -9e-09), (3.216216216, 1.102702703))
            ThreePointArc((3.216216216, 1.102702703), (3.255879959, 1.374371458), (3.5, 1.5))
            Line((3.5, 1.5), (4.335858741, 1.5))
            ThreePointArc((4.335858741, 1.5), (4.526682207, 1.568512625), (4.630346896, 1.742757301))
            Line((4.630346896, 1.742757301), (4.794488155, 2.587190874))
            ThreePointArc((4.794488155, 2.587190874), (4.79861886, 2.615679847), (4.8, 2.644433572))
            Line((4.8, 2.644433572), (4.8, 4.5))
            ThreePointArc((4.8, 4.5), (4.712132034, 4.712132034), (4.5, 4.8))
            Line((4.5, 4.8), (2.644433572, 4.8))
            ThreePointArc((2.644433572, 4.8), (2.615679847, 4.79861886), (2.587190874, 4.794488155))
            Line((2.587190874, 4.794488155), (1.742757301, 4.630346896))
            ThreePointArc((1.742757301, 4.630346896), (1.568512625, 4.526682207), (1.5, 4.335858741))
            Line((1.5, 4.335858741), (1.5, 3.5))
            ThreePointArc((1.5, 3.5), (1.374371466, 3.255879964), (1.10270272, 3.21621621))
            ThreePointArc((1.10270272, 3.21621621), (9e-09, 3.4), (-1.102702703, 3.216216216))
            ThreePointArc((-1.102702703, 3.216216216), (-1.374371458, 3.255879959), (-1.5, 3.5))
            Line((-1.5, 3.5), (-1.5, 4.335858741))
            ThreePointArc((-1.5, 4.335858741), (-1.568512625, 4.526682207), (-1.742757301, 4.630346896))
            Line((-1.742757301, 4.630346896), (-2.587190874, 4.794488155))
            ThreePointArc((-2.587190874, 4.794488155), (-2.615679847, 4.79861886), (-2.644433572, 4.8))
            Line((-2.644433572, 4.8), (-4.5, 4.8))
            ThreePointArc((-4.5, 4.8), (-4.712132034, 4.712132034), (-4.8, 4.5))
            Line((-4.8, 4.5), (-4.8, 2.644433572))
            ThreePointArc((-4.8, 2.644433572), (-4.79861886, 2.615679847), (-4.794488155, 2.587190874))
            Line((-4.794488155, 2.587190874), (-4.630346896, 1.742757301))
            ThreePointArc((-4.630346896, 1.742757301), (-4.526682207, 1.568512625), (-4.335858741, 1.5))
            Line((-4.335858741, 1.5), (-3.5, 1.5))
            ThreePointArc((-3.5, 1.5), (-3.255879964, 1.374371466), (-3.21621621, 1.10270272))
            ThreePointArc((-3.21621621, 1.10270272), (-3.4, 9e-09), (-3.216216216, -1.102702703))
            ThreePointArc((-3.216216216, -1.102702703), (-3.255879959, -1.374371458), (-3.5, -1.5))
            Line((-3.5, -1.5), (-4.335858741, -1.5))
            ThreePointArc((-4.335858741, -1.5), (-4.526682207, -1.568512625), (-4.630346896, -1.742757301))
            Line((-4.630346896, -1.742757301), (-4.794488155, -2.587190874))
            ThreePointArc((-4.794488155, -2.587190874), (-4.79861886, -2.615679847), (-4.8, -2.644433572))
            Line((-4.8, -2.644433572), (-4.8, -4.5))
            ThreePointArc((-4.8, -4.5), (-4.712132034, -4.712132034), (-4.5, -4.8))
        make_face()
    extrude(amount=-CUT_EXTRUDE1_DEPTH, mode=Mode.SUBTRACT)


solid = part.part
